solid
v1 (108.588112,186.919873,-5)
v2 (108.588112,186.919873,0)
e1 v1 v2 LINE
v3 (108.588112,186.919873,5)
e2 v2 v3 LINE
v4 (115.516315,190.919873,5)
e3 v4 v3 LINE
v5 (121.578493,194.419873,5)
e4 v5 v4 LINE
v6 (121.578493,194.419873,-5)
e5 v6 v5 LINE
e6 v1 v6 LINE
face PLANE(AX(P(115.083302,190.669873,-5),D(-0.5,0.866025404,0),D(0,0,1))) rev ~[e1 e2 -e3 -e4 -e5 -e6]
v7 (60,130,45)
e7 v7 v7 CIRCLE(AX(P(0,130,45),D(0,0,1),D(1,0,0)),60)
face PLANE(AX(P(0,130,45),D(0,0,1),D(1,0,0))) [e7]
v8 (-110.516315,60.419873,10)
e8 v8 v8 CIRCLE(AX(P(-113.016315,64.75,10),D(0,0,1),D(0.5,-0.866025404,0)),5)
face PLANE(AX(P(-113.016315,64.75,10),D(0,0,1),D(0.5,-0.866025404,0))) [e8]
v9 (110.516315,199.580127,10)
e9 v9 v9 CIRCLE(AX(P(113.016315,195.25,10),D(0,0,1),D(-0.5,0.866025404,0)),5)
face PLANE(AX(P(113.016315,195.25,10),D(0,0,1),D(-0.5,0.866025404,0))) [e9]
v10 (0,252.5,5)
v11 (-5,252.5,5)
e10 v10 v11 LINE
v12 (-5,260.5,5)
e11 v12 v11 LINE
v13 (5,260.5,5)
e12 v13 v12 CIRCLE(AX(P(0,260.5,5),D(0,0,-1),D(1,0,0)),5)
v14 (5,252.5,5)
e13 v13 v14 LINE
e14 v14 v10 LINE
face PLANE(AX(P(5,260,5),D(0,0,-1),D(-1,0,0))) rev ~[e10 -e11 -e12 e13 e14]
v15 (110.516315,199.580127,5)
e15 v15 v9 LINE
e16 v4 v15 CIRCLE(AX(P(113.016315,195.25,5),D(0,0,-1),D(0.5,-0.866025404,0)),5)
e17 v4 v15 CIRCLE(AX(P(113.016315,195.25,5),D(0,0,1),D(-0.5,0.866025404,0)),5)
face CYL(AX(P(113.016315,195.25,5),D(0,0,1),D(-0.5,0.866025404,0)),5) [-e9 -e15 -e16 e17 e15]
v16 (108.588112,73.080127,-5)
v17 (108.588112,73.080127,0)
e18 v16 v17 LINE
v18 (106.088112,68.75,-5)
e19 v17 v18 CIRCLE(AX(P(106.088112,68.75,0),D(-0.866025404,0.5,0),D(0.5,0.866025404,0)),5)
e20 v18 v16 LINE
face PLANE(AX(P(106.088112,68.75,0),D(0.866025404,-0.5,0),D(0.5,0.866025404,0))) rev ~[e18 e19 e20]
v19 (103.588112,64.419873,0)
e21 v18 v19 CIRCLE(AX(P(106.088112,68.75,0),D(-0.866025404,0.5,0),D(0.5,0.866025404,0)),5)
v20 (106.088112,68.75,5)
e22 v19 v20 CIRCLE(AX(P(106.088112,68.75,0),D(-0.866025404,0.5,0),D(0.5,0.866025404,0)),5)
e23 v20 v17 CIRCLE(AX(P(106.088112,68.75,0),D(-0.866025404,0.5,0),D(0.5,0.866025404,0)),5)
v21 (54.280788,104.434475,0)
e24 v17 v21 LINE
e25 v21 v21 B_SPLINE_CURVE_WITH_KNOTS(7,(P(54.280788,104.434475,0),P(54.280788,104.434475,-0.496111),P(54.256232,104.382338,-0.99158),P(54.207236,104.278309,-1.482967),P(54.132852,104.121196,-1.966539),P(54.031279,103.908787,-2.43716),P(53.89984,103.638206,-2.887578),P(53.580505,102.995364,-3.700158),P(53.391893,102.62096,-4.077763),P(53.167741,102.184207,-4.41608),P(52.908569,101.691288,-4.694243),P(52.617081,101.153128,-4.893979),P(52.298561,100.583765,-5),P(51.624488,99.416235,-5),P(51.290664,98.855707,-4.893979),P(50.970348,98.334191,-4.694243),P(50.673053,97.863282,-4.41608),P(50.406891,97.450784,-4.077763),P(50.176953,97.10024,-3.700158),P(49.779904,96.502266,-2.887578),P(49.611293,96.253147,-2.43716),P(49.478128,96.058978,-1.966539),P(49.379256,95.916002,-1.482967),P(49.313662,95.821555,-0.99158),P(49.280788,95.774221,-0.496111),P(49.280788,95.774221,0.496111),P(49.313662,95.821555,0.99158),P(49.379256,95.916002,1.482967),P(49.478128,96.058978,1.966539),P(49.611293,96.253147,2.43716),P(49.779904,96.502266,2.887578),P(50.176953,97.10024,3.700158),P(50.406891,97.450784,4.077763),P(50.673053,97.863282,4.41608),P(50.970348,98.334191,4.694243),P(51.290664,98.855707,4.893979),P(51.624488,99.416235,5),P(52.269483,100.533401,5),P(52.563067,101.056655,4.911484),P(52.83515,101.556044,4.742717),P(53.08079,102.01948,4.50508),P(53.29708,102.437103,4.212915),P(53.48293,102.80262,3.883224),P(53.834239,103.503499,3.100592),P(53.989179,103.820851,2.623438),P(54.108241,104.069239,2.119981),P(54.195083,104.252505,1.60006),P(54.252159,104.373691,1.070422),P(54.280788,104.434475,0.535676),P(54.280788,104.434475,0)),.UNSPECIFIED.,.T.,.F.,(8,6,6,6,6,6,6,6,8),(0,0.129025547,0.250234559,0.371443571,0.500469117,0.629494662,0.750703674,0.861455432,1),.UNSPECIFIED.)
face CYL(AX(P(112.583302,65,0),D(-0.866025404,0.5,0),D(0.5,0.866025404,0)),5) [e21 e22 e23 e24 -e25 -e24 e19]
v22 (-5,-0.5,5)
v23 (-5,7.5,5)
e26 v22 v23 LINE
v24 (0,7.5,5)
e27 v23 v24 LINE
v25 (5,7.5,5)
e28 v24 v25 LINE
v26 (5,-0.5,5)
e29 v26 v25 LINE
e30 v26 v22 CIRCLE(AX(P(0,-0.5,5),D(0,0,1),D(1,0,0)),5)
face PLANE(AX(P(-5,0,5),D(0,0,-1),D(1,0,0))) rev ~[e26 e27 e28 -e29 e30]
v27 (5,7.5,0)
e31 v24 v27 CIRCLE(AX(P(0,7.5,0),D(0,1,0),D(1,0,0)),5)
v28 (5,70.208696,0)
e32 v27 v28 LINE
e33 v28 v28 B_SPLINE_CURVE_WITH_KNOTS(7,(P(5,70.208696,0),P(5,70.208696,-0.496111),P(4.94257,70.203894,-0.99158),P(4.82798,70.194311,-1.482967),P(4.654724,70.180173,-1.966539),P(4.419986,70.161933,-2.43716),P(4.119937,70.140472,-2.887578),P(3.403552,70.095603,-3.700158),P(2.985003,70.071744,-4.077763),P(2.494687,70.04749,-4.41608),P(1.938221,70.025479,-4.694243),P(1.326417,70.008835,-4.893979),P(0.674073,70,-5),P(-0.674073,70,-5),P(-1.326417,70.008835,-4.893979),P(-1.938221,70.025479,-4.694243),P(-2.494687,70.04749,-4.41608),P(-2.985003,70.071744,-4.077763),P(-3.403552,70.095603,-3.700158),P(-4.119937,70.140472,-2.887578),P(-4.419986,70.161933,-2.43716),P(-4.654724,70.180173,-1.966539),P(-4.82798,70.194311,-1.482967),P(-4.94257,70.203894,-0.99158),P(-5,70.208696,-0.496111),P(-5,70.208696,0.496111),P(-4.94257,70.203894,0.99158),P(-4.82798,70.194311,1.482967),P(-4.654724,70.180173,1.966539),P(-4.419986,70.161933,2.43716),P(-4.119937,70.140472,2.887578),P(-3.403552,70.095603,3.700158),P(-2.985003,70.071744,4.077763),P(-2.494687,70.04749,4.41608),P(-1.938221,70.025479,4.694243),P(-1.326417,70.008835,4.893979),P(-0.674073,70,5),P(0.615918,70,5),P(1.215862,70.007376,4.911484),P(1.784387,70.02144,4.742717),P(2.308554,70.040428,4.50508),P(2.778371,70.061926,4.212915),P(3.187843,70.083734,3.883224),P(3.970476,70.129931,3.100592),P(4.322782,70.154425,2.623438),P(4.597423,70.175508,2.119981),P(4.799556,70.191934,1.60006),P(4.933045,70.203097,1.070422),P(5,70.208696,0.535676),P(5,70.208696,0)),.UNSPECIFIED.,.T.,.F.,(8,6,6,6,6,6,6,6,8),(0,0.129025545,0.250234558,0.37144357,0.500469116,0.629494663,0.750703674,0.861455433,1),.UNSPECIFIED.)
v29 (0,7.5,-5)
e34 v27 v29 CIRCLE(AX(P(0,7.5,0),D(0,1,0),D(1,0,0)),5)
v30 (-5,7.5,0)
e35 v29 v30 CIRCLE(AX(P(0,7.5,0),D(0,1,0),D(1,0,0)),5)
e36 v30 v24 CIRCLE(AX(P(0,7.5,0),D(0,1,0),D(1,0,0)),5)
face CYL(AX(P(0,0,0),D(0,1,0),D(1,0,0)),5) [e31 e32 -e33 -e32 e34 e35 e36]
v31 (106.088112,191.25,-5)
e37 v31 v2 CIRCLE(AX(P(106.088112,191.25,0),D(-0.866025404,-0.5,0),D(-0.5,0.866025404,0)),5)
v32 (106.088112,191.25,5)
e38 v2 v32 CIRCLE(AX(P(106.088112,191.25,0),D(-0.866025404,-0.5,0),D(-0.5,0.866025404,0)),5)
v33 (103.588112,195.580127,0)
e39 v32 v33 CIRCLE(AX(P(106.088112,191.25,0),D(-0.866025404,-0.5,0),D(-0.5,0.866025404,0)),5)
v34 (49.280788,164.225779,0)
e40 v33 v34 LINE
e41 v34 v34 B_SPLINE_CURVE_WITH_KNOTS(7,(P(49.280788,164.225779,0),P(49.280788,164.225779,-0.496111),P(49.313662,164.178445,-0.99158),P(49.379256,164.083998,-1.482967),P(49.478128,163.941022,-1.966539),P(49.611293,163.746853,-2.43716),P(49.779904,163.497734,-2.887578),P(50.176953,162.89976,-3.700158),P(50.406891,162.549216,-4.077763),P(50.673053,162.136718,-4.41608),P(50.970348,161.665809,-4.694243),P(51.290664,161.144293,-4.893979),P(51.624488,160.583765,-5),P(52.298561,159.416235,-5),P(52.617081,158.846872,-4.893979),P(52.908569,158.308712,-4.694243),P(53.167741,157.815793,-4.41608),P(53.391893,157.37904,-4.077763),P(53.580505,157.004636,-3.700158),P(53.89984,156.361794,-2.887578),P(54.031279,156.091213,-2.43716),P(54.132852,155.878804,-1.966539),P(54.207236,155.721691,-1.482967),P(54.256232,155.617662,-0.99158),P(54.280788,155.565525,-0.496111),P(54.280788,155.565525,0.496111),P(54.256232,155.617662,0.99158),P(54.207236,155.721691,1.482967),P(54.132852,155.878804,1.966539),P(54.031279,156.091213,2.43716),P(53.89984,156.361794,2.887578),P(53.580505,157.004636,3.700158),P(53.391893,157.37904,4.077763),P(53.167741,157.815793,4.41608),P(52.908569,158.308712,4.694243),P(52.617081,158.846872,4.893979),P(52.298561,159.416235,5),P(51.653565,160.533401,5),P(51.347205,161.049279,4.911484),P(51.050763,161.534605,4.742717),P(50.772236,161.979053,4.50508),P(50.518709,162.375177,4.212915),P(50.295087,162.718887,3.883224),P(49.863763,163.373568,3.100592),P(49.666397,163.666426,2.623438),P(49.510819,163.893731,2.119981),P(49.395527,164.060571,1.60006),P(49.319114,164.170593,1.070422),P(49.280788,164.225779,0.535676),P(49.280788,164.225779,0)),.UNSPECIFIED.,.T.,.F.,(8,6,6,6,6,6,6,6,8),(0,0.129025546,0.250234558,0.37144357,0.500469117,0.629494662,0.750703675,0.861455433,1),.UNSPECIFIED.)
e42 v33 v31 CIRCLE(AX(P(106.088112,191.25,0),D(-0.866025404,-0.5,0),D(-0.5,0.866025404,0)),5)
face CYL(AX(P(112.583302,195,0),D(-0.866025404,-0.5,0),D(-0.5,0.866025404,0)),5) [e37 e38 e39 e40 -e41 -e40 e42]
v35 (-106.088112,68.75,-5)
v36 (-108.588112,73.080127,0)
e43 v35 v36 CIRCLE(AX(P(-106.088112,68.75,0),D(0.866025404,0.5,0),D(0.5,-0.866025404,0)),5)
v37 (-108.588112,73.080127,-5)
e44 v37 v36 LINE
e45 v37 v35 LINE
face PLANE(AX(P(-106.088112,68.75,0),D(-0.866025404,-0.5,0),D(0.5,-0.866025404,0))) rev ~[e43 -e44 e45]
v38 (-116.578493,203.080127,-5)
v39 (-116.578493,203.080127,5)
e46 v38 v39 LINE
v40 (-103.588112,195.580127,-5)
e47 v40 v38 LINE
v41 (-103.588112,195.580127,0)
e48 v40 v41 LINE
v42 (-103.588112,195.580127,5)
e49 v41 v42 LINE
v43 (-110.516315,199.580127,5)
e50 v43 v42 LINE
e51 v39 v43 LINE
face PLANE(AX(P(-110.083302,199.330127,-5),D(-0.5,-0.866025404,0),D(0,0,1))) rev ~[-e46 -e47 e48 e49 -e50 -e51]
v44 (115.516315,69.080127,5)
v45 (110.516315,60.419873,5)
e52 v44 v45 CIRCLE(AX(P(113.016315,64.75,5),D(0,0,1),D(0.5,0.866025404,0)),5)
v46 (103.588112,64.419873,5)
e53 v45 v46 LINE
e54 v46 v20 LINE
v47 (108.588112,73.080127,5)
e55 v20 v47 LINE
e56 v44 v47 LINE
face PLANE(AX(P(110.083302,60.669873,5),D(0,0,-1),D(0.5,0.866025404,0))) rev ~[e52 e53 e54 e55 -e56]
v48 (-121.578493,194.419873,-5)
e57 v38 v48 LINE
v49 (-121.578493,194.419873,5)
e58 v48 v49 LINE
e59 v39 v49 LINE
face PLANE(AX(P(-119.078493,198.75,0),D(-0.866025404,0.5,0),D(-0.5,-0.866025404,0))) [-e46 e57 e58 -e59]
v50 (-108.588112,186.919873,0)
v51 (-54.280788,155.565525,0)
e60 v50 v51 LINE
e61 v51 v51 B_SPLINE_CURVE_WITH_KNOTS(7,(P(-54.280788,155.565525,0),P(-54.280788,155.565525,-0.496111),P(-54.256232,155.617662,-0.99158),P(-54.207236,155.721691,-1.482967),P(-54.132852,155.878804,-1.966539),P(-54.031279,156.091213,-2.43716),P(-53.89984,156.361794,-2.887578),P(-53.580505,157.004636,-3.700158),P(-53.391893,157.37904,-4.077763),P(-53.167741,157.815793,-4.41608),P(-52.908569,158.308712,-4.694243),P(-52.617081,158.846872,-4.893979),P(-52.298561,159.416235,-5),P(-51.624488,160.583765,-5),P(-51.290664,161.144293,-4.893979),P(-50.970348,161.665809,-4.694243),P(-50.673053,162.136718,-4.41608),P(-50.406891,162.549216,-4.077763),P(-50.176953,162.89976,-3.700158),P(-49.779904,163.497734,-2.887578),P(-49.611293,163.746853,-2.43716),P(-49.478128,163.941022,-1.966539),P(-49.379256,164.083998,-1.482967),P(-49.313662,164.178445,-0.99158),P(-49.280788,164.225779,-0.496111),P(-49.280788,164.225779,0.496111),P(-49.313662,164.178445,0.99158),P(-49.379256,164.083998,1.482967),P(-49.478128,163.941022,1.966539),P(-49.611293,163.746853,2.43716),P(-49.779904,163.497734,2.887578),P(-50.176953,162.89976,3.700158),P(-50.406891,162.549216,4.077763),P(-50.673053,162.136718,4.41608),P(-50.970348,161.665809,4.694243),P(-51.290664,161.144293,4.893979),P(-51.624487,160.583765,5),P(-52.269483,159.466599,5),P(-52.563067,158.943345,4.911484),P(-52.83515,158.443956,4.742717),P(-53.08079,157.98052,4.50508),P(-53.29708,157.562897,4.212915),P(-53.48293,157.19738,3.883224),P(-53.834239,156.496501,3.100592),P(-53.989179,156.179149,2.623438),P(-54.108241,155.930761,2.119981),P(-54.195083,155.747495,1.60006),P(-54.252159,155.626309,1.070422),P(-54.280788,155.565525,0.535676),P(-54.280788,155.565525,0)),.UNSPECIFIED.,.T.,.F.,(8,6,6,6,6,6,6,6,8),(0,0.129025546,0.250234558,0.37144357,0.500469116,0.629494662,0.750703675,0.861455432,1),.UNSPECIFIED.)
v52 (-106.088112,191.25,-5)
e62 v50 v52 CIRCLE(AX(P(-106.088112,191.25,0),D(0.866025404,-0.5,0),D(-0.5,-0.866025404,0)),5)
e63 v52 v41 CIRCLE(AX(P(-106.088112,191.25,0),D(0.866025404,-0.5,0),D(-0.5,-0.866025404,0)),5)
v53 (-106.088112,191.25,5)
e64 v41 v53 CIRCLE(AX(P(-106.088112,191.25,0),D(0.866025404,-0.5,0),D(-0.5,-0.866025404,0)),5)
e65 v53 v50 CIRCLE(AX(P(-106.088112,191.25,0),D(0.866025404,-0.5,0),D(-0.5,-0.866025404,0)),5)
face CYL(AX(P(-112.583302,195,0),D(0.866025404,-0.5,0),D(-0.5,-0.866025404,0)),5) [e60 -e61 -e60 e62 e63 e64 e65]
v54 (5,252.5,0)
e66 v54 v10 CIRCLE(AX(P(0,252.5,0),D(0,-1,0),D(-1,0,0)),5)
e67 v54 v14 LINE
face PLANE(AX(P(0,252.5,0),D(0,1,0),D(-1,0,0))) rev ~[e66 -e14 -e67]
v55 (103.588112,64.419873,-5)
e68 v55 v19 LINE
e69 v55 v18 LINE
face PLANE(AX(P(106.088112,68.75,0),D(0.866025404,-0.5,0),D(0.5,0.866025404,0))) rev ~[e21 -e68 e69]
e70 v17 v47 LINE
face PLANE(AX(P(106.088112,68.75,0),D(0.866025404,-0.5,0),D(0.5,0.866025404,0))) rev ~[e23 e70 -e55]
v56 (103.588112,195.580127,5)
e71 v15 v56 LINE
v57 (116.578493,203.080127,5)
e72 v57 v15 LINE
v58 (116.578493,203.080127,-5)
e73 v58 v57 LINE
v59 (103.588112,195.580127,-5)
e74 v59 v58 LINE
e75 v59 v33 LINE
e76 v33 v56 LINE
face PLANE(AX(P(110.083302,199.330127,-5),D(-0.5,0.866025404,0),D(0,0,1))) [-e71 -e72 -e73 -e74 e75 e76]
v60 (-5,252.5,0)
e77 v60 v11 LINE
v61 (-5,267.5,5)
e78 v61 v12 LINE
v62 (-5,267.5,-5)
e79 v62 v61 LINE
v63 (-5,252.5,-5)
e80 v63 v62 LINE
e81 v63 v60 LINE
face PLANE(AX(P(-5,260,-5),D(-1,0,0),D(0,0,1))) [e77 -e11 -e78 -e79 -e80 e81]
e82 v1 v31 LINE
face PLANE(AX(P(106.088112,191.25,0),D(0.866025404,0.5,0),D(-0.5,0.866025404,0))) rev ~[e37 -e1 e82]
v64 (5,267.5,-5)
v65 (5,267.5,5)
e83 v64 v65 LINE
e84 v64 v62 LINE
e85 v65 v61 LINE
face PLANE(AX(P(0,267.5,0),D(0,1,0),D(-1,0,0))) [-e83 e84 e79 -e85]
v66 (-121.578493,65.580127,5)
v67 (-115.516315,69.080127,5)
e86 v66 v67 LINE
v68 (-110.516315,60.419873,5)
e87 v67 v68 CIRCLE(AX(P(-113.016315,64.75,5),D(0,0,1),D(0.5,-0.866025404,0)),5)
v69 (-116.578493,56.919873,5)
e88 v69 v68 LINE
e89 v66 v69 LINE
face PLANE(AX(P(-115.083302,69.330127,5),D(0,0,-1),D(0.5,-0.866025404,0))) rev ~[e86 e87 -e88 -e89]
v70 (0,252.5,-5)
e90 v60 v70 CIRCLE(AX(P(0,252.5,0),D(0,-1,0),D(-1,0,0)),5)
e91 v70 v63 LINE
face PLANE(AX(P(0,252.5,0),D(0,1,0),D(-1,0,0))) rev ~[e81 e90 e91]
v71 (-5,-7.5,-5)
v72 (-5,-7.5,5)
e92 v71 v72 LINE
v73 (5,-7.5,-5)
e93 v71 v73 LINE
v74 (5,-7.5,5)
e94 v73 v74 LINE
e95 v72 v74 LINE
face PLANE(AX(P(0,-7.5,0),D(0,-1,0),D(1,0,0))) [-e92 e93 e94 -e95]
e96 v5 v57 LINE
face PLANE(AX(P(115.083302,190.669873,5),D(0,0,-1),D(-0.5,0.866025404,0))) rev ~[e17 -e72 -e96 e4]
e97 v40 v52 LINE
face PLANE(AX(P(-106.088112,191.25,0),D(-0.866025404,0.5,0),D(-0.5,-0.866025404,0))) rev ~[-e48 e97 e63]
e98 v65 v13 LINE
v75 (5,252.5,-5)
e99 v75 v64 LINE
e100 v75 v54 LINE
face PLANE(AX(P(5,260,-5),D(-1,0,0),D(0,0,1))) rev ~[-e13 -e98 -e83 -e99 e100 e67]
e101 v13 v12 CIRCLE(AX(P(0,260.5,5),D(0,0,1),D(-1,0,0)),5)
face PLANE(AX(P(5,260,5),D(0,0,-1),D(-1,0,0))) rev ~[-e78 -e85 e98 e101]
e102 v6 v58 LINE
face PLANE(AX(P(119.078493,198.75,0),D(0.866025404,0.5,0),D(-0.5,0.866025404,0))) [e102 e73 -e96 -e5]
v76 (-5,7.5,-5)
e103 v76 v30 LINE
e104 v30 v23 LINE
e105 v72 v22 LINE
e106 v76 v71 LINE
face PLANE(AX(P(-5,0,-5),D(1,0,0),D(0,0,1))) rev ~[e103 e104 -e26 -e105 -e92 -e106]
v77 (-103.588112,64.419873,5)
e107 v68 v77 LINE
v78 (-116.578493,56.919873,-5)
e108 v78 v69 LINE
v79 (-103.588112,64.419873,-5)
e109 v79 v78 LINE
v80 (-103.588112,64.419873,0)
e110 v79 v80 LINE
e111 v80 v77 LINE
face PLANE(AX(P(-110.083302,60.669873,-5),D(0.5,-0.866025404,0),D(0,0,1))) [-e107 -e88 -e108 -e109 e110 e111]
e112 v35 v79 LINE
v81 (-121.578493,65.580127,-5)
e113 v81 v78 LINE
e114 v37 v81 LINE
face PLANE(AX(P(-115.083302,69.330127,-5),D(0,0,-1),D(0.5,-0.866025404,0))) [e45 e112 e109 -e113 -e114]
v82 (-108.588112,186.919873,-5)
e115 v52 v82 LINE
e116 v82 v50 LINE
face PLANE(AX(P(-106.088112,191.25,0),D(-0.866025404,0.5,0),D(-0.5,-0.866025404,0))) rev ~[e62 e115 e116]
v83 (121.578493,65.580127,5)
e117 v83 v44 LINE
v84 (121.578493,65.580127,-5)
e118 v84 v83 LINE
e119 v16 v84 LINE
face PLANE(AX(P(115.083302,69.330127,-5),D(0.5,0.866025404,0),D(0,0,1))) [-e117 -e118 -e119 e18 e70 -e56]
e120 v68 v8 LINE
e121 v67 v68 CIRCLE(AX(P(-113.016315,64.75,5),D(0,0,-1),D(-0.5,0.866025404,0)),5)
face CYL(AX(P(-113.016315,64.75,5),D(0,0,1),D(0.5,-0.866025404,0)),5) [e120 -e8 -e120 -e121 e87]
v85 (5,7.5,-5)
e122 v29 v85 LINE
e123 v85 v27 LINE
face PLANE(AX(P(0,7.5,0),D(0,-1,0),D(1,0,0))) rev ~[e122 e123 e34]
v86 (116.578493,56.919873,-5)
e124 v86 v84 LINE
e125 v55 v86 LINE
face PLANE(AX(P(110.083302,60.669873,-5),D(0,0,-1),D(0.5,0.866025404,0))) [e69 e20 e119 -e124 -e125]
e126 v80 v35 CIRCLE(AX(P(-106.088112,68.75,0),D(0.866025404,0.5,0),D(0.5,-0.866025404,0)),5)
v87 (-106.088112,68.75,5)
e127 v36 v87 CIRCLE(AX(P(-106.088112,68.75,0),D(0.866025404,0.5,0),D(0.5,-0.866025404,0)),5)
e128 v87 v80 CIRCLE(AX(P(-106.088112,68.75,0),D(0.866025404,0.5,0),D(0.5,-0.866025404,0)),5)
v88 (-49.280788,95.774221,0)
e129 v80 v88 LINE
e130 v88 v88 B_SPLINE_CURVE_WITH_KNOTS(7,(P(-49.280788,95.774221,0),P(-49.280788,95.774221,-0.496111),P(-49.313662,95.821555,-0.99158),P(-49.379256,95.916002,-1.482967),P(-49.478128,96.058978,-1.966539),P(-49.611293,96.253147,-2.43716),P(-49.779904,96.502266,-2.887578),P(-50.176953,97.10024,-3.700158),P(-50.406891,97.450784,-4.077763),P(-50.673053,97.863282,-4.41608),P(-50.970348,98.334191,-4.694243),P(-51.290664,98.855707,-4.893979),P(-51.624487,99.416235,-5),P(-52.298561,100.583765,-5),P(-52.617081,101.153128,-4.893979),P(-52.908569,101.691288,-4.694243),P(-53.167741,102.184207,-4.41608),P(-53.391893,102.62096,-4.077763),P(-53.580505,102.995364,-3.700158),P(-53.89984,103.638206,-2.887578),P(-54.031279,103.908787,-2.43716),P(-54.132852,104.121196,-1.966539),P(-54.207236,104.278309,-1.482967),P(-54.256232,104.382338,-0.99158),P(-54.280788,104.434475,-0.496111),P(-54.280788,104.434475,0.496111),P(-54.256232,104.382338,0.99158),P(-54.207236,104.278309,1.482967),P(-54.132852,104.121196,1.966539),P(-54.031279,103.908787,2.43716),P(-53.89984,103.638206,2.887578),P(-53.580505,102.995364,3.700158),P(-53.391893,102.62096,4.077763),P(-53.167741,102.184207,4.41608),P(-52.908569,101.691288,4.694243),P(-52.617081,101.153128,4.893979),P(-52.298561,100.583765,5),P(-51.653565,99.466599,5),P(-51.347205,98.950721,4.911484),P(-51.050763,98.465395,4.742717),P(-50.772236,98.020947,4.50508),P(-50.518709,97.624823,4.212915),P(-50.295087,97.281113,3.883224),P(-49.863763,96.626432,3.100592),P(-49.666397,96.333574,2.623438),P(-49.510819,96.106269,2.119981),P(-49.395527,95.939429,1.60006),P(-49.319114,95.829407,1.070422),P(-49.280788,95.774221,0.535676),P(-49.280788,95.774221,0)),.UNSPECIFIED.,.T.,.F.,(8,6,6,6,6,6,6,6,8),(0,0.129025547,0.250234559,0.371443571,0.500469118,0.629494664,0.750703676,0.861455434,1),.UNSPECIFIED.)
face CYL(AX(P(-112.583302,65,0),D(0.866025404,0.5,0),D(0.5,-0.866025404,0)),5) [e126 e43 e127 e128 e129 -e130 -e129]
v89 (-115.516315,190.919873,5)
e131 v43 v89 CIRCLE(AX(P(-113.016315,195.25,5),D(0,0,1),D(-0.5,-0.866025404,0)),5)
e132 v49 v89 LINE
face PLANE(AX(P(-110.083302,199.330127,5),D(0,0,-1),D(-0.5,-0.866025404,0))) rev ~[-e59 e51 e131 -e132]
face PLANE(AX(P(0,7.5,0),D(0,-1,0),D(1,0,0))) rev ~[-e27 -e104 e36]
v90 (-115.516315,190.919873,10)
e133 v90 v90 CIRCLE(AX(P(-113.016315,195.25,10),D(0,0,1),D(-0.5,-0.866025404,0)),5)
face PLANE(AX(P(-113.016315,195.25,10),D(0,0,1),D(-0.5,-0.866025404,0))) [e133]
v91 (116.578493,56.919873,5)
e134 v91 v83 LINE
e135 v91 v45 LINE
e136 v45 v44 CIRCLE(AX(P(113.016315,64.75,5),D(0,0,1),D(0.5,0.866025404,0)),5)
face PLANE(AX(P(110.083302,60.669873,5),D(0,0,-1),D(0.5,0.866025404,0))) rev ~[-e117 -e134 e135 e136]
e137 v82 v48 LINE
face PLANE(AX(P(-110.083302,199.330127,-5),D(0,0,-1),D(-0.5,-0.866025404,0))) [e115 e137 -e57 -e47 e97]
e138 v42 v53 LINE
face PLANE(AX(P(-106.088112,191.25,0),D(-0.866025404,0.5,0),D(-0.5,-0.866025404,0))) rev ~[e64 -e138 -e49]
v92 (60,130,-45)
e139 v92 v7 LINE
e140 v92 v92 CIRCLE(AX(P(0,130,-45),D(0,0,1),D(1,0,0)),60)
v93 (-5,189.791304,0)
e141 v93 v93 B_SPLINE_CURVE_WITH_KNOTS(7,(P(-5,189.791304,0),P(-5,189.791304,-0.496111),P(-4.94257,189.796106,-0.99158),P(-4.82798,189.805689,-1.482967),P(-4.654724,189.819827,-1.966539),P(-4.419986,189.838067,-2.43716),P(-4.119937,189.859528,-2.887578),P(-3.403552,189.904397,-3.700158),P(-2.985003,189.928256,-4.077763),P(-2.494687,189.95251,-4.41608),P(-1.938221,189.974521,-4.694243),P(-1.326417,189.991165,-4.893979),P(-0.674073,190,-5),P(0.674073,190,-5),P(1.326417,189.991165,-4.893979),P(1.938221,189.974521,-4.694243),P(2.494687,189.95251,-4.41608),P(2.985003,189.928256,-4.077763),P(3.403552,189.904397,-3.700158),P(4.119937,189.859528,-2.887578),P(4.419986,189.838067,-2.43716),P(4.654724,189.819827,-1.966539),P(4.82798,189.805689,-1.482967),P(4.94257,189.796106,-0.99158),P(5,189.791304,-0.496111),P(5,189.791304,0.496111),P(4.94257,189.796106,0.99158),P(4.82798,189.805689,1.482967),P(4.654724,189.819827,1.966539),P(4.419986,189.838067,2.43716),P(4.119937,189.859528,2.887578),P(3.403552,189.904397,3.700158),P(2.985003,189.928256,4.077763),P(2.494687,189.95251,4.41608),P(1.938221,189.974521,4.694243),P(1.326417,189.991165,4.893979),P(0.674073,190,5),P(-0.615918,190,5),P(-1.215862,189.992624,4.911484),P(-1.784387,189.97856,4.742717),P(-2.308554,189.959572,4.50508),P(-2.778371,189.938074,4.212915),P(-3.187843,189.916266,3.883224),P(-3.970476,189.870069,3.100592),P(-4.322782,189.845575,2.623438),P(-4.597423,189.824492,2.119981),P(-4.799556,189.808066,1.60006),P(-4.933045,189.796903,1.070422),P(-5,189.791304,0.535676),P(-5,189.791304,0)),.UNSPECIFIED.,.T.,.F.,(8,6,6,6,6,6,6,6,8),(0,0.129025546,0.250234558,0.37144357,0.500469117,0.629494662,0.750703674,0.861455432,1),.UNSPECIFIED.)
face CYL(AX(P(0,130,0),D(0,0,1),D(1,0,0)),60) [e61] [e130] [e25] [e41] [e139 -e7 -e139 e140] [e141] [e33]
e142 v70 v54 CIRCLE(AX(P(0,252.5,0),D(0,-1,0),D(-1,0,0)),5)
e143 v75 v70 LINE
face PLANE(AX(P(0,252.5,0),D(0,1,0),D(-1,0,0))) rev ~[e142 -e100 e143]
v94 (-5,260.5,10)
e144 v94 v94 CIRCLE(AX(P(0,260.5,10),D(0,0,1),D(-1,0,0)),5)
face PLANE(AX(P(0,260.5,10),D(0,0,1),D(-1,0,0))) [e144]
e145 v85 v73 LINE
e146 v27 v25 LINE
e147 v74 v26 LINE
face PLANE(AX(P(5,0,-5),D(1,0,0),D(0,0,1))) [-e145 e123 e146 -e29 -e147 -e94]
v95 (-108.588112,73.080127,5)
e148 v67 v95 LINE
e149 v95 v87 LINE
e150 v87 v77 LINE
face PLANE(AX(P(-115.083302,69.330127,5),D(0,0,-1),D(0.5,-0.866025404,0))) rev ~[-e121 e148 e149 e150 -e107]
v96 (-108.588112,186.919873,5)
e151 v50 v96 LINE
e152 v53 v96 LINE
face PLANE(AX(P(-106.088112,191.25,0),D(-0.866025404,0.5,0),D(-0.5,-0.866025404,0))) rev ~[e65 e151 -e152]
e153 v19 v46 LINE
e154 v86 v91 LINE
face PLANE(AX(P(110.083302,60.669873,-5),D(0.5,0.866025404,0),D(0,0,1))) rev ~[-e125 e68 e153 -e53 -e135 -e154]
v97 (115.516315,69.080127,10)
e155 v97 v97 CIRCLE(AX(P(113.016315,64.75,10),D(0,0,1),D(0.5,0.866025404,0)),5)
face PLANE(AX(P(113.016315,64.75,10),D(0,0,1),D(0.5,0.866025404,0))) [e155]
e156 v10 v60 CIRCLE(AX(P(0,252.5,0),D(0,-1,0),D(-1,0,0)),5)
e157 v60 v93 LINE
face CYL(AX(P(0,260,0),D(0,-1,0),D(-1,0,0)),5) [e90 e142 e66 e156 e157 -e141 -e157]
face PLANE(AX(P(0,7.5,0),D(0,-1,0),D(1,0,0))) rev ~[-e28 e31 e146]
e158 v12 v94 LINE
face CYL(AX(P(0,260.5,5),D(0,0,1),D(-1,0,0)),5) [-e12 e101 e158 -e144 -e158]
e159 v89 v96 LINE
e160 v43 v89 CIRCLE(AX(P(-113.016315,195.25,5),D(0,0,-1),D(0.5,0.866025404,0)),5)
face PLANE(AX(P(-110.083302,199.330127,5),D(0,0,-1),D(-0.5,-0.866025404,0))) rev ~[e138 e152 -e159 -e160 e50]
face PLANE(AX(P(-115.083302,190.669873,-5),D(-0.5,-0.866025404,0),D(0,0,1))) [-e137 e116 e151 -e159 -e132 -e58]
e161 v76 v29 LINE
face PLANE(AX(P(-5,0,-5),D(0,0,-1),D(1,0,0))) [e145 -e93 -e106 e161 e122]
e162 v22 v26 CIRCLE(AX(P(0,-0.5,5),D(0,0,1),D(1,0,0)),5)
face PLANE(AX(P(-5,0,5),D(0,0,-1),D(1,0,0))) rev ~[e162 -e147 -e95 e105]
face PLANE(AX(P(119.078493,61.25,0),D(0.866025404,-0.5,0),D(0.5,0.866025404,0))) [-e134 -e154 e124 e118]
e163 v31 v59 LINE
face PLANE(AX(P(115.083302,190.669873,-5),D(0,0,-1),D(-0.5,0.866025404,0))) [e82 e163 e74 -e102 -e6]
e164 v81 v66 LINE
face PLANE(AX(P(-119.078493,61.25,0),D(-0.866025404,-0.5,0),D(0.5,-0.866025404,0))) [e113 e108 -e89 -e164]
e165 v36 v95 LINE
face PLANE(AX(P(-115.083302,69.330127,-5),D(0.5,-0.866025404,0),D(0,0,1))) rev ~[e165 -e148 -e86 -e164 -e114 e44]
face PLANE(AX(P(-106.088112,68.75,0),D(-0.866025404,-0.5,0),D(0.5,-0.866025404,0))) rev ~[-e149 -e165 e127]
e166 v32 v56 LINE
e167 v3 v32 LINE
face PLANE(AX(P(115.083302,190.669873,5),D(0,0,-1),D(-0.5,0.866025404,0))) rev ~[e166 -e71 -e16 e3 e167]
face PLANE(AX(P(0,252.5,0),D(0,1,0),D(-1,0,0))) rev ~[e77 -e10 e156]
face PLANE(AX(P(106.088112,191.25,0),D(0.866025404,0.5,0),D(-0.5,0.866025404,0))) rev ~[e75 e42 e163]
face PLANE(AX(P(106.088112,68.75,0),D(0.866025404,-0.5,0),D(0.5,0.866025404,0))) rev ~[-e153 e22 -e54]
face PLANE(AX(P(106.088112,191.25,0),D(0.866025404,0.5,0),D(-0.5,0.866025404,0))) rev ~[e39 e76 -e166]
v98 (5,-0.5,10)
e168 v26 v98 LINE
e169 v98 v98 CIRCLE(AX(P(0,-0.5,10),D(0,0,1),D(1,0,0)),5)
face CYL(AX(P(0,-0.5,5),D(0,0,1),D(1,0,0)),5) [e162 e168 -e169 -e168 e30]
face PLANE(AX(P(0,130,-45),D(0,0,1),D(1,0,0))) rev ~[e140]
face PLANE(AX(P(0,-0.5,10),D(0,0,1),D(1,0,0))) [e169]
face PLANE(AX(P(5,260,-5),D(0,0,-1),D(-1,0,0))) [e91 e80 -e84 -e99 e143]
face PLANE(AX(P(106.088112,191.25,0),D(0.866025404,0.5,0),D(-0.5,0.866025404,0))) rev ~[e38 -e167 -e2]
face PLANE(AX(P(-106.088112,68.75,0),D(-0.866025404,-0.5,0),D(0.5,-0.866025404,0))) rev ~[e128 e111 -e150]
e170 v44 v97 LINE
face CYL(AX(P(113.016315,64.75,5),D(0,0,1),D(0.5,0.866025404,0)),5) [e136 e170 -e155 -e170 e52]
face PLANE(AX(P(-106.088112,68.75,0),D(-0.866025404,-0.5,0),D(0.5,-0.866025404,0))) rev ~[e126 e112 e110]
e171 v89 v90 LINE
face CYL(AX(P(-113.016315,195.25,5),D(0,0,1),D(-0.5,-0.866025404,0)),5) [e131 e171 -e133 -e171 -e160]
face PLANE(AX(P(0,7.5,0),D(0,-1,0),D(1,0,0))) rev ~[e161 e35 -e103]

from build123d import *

# Parameters (mm, degrees)
SKETCH_6_R               = 5
SKETCH_8_W               = 10
SKETCH_8_H               = 10
EXTRUDE_1_DEPTH          = 7.5
SKETCH_9_R               = 5
EXTRUDE_2_DEPTH          = 5
SKETCH_11_R              = 60
EXTRUDE_3_DEPTH          = 45
PATTERN_CIRCULAR_1_COUNT = 6


with BuildPart() as part:
    # 掃出1: sweep along a path in 草圖7
    with BuildLine(Plane.XY) as sweep_1_path:
        Line((0, 0), (0, 130))
    # 草圖6 → 掃出1 (sweep)
    with BuildSketch(Plane(origin=(0, 0, 0), x_dir=(1, 0, 0), z_dir=(0, 1, 0))):
        Circle(SKETCH_6_R)
    sweep_1 = sweep(path=sweep_1_path.line)

    # 草圖8 → 填料-伸長1 (add, symmetric)
    with BuildSketch(Plane.XZ):
        Rectangle(SKETCH_8_W, SKETCH_8_H)
    extrude_1 = extrude(amount=EXTRUDE_1_DEPTH, both=True)

    # 草圖9 → 填料-伸長2 (add, symmetric)
    with BuildSketch(Plane.XY.offset(5)):
        with Locations((0, -0.5)):
            Circle(SKETCH_9_R)
    extrude_2 = extrude(amount=EXTRUDE_2_DEPTH, both=True)

    # 草圖11 → 填料-伸長3 (add, symmetric)
    with BuildSketch(Plane.XY):
        with Locations((0, 130)):
            Circle(SKETCH_11_R)
    extrude(amount=EXTRUDE_3_DEPTH, both=True)

    # 環狀複製排列1: 掃出1, 填料-伸長1, 填料-伸長2 ×6 about axis
    pattern_circular_1_axis = Axis((0, 130, 0), (0, 0, 1))
    add([sweep_1.rotate(pattern_circular_1_axis, i * 360 / PATTERN_CIRCULAR_1_COUNT) for i in range(1, PATTERN_CIRCULAR_1_COUNT)])
    add([extrude_1.rotate(pattern_circular_1_axis, i * 360 / PATTERN_CIRCULAR_1_COUNT) for i in range(1, PATTERN_CIRCULAR_1_COUNT)])
    add([extrude_2.rotate(pattern_circular_1_axis, i * 360 / PATTERN_CIRCULAR_1_COUNT) for i in range(1, PATTERN_CIRCULAR_1_COUNT)])


solid = part.part
